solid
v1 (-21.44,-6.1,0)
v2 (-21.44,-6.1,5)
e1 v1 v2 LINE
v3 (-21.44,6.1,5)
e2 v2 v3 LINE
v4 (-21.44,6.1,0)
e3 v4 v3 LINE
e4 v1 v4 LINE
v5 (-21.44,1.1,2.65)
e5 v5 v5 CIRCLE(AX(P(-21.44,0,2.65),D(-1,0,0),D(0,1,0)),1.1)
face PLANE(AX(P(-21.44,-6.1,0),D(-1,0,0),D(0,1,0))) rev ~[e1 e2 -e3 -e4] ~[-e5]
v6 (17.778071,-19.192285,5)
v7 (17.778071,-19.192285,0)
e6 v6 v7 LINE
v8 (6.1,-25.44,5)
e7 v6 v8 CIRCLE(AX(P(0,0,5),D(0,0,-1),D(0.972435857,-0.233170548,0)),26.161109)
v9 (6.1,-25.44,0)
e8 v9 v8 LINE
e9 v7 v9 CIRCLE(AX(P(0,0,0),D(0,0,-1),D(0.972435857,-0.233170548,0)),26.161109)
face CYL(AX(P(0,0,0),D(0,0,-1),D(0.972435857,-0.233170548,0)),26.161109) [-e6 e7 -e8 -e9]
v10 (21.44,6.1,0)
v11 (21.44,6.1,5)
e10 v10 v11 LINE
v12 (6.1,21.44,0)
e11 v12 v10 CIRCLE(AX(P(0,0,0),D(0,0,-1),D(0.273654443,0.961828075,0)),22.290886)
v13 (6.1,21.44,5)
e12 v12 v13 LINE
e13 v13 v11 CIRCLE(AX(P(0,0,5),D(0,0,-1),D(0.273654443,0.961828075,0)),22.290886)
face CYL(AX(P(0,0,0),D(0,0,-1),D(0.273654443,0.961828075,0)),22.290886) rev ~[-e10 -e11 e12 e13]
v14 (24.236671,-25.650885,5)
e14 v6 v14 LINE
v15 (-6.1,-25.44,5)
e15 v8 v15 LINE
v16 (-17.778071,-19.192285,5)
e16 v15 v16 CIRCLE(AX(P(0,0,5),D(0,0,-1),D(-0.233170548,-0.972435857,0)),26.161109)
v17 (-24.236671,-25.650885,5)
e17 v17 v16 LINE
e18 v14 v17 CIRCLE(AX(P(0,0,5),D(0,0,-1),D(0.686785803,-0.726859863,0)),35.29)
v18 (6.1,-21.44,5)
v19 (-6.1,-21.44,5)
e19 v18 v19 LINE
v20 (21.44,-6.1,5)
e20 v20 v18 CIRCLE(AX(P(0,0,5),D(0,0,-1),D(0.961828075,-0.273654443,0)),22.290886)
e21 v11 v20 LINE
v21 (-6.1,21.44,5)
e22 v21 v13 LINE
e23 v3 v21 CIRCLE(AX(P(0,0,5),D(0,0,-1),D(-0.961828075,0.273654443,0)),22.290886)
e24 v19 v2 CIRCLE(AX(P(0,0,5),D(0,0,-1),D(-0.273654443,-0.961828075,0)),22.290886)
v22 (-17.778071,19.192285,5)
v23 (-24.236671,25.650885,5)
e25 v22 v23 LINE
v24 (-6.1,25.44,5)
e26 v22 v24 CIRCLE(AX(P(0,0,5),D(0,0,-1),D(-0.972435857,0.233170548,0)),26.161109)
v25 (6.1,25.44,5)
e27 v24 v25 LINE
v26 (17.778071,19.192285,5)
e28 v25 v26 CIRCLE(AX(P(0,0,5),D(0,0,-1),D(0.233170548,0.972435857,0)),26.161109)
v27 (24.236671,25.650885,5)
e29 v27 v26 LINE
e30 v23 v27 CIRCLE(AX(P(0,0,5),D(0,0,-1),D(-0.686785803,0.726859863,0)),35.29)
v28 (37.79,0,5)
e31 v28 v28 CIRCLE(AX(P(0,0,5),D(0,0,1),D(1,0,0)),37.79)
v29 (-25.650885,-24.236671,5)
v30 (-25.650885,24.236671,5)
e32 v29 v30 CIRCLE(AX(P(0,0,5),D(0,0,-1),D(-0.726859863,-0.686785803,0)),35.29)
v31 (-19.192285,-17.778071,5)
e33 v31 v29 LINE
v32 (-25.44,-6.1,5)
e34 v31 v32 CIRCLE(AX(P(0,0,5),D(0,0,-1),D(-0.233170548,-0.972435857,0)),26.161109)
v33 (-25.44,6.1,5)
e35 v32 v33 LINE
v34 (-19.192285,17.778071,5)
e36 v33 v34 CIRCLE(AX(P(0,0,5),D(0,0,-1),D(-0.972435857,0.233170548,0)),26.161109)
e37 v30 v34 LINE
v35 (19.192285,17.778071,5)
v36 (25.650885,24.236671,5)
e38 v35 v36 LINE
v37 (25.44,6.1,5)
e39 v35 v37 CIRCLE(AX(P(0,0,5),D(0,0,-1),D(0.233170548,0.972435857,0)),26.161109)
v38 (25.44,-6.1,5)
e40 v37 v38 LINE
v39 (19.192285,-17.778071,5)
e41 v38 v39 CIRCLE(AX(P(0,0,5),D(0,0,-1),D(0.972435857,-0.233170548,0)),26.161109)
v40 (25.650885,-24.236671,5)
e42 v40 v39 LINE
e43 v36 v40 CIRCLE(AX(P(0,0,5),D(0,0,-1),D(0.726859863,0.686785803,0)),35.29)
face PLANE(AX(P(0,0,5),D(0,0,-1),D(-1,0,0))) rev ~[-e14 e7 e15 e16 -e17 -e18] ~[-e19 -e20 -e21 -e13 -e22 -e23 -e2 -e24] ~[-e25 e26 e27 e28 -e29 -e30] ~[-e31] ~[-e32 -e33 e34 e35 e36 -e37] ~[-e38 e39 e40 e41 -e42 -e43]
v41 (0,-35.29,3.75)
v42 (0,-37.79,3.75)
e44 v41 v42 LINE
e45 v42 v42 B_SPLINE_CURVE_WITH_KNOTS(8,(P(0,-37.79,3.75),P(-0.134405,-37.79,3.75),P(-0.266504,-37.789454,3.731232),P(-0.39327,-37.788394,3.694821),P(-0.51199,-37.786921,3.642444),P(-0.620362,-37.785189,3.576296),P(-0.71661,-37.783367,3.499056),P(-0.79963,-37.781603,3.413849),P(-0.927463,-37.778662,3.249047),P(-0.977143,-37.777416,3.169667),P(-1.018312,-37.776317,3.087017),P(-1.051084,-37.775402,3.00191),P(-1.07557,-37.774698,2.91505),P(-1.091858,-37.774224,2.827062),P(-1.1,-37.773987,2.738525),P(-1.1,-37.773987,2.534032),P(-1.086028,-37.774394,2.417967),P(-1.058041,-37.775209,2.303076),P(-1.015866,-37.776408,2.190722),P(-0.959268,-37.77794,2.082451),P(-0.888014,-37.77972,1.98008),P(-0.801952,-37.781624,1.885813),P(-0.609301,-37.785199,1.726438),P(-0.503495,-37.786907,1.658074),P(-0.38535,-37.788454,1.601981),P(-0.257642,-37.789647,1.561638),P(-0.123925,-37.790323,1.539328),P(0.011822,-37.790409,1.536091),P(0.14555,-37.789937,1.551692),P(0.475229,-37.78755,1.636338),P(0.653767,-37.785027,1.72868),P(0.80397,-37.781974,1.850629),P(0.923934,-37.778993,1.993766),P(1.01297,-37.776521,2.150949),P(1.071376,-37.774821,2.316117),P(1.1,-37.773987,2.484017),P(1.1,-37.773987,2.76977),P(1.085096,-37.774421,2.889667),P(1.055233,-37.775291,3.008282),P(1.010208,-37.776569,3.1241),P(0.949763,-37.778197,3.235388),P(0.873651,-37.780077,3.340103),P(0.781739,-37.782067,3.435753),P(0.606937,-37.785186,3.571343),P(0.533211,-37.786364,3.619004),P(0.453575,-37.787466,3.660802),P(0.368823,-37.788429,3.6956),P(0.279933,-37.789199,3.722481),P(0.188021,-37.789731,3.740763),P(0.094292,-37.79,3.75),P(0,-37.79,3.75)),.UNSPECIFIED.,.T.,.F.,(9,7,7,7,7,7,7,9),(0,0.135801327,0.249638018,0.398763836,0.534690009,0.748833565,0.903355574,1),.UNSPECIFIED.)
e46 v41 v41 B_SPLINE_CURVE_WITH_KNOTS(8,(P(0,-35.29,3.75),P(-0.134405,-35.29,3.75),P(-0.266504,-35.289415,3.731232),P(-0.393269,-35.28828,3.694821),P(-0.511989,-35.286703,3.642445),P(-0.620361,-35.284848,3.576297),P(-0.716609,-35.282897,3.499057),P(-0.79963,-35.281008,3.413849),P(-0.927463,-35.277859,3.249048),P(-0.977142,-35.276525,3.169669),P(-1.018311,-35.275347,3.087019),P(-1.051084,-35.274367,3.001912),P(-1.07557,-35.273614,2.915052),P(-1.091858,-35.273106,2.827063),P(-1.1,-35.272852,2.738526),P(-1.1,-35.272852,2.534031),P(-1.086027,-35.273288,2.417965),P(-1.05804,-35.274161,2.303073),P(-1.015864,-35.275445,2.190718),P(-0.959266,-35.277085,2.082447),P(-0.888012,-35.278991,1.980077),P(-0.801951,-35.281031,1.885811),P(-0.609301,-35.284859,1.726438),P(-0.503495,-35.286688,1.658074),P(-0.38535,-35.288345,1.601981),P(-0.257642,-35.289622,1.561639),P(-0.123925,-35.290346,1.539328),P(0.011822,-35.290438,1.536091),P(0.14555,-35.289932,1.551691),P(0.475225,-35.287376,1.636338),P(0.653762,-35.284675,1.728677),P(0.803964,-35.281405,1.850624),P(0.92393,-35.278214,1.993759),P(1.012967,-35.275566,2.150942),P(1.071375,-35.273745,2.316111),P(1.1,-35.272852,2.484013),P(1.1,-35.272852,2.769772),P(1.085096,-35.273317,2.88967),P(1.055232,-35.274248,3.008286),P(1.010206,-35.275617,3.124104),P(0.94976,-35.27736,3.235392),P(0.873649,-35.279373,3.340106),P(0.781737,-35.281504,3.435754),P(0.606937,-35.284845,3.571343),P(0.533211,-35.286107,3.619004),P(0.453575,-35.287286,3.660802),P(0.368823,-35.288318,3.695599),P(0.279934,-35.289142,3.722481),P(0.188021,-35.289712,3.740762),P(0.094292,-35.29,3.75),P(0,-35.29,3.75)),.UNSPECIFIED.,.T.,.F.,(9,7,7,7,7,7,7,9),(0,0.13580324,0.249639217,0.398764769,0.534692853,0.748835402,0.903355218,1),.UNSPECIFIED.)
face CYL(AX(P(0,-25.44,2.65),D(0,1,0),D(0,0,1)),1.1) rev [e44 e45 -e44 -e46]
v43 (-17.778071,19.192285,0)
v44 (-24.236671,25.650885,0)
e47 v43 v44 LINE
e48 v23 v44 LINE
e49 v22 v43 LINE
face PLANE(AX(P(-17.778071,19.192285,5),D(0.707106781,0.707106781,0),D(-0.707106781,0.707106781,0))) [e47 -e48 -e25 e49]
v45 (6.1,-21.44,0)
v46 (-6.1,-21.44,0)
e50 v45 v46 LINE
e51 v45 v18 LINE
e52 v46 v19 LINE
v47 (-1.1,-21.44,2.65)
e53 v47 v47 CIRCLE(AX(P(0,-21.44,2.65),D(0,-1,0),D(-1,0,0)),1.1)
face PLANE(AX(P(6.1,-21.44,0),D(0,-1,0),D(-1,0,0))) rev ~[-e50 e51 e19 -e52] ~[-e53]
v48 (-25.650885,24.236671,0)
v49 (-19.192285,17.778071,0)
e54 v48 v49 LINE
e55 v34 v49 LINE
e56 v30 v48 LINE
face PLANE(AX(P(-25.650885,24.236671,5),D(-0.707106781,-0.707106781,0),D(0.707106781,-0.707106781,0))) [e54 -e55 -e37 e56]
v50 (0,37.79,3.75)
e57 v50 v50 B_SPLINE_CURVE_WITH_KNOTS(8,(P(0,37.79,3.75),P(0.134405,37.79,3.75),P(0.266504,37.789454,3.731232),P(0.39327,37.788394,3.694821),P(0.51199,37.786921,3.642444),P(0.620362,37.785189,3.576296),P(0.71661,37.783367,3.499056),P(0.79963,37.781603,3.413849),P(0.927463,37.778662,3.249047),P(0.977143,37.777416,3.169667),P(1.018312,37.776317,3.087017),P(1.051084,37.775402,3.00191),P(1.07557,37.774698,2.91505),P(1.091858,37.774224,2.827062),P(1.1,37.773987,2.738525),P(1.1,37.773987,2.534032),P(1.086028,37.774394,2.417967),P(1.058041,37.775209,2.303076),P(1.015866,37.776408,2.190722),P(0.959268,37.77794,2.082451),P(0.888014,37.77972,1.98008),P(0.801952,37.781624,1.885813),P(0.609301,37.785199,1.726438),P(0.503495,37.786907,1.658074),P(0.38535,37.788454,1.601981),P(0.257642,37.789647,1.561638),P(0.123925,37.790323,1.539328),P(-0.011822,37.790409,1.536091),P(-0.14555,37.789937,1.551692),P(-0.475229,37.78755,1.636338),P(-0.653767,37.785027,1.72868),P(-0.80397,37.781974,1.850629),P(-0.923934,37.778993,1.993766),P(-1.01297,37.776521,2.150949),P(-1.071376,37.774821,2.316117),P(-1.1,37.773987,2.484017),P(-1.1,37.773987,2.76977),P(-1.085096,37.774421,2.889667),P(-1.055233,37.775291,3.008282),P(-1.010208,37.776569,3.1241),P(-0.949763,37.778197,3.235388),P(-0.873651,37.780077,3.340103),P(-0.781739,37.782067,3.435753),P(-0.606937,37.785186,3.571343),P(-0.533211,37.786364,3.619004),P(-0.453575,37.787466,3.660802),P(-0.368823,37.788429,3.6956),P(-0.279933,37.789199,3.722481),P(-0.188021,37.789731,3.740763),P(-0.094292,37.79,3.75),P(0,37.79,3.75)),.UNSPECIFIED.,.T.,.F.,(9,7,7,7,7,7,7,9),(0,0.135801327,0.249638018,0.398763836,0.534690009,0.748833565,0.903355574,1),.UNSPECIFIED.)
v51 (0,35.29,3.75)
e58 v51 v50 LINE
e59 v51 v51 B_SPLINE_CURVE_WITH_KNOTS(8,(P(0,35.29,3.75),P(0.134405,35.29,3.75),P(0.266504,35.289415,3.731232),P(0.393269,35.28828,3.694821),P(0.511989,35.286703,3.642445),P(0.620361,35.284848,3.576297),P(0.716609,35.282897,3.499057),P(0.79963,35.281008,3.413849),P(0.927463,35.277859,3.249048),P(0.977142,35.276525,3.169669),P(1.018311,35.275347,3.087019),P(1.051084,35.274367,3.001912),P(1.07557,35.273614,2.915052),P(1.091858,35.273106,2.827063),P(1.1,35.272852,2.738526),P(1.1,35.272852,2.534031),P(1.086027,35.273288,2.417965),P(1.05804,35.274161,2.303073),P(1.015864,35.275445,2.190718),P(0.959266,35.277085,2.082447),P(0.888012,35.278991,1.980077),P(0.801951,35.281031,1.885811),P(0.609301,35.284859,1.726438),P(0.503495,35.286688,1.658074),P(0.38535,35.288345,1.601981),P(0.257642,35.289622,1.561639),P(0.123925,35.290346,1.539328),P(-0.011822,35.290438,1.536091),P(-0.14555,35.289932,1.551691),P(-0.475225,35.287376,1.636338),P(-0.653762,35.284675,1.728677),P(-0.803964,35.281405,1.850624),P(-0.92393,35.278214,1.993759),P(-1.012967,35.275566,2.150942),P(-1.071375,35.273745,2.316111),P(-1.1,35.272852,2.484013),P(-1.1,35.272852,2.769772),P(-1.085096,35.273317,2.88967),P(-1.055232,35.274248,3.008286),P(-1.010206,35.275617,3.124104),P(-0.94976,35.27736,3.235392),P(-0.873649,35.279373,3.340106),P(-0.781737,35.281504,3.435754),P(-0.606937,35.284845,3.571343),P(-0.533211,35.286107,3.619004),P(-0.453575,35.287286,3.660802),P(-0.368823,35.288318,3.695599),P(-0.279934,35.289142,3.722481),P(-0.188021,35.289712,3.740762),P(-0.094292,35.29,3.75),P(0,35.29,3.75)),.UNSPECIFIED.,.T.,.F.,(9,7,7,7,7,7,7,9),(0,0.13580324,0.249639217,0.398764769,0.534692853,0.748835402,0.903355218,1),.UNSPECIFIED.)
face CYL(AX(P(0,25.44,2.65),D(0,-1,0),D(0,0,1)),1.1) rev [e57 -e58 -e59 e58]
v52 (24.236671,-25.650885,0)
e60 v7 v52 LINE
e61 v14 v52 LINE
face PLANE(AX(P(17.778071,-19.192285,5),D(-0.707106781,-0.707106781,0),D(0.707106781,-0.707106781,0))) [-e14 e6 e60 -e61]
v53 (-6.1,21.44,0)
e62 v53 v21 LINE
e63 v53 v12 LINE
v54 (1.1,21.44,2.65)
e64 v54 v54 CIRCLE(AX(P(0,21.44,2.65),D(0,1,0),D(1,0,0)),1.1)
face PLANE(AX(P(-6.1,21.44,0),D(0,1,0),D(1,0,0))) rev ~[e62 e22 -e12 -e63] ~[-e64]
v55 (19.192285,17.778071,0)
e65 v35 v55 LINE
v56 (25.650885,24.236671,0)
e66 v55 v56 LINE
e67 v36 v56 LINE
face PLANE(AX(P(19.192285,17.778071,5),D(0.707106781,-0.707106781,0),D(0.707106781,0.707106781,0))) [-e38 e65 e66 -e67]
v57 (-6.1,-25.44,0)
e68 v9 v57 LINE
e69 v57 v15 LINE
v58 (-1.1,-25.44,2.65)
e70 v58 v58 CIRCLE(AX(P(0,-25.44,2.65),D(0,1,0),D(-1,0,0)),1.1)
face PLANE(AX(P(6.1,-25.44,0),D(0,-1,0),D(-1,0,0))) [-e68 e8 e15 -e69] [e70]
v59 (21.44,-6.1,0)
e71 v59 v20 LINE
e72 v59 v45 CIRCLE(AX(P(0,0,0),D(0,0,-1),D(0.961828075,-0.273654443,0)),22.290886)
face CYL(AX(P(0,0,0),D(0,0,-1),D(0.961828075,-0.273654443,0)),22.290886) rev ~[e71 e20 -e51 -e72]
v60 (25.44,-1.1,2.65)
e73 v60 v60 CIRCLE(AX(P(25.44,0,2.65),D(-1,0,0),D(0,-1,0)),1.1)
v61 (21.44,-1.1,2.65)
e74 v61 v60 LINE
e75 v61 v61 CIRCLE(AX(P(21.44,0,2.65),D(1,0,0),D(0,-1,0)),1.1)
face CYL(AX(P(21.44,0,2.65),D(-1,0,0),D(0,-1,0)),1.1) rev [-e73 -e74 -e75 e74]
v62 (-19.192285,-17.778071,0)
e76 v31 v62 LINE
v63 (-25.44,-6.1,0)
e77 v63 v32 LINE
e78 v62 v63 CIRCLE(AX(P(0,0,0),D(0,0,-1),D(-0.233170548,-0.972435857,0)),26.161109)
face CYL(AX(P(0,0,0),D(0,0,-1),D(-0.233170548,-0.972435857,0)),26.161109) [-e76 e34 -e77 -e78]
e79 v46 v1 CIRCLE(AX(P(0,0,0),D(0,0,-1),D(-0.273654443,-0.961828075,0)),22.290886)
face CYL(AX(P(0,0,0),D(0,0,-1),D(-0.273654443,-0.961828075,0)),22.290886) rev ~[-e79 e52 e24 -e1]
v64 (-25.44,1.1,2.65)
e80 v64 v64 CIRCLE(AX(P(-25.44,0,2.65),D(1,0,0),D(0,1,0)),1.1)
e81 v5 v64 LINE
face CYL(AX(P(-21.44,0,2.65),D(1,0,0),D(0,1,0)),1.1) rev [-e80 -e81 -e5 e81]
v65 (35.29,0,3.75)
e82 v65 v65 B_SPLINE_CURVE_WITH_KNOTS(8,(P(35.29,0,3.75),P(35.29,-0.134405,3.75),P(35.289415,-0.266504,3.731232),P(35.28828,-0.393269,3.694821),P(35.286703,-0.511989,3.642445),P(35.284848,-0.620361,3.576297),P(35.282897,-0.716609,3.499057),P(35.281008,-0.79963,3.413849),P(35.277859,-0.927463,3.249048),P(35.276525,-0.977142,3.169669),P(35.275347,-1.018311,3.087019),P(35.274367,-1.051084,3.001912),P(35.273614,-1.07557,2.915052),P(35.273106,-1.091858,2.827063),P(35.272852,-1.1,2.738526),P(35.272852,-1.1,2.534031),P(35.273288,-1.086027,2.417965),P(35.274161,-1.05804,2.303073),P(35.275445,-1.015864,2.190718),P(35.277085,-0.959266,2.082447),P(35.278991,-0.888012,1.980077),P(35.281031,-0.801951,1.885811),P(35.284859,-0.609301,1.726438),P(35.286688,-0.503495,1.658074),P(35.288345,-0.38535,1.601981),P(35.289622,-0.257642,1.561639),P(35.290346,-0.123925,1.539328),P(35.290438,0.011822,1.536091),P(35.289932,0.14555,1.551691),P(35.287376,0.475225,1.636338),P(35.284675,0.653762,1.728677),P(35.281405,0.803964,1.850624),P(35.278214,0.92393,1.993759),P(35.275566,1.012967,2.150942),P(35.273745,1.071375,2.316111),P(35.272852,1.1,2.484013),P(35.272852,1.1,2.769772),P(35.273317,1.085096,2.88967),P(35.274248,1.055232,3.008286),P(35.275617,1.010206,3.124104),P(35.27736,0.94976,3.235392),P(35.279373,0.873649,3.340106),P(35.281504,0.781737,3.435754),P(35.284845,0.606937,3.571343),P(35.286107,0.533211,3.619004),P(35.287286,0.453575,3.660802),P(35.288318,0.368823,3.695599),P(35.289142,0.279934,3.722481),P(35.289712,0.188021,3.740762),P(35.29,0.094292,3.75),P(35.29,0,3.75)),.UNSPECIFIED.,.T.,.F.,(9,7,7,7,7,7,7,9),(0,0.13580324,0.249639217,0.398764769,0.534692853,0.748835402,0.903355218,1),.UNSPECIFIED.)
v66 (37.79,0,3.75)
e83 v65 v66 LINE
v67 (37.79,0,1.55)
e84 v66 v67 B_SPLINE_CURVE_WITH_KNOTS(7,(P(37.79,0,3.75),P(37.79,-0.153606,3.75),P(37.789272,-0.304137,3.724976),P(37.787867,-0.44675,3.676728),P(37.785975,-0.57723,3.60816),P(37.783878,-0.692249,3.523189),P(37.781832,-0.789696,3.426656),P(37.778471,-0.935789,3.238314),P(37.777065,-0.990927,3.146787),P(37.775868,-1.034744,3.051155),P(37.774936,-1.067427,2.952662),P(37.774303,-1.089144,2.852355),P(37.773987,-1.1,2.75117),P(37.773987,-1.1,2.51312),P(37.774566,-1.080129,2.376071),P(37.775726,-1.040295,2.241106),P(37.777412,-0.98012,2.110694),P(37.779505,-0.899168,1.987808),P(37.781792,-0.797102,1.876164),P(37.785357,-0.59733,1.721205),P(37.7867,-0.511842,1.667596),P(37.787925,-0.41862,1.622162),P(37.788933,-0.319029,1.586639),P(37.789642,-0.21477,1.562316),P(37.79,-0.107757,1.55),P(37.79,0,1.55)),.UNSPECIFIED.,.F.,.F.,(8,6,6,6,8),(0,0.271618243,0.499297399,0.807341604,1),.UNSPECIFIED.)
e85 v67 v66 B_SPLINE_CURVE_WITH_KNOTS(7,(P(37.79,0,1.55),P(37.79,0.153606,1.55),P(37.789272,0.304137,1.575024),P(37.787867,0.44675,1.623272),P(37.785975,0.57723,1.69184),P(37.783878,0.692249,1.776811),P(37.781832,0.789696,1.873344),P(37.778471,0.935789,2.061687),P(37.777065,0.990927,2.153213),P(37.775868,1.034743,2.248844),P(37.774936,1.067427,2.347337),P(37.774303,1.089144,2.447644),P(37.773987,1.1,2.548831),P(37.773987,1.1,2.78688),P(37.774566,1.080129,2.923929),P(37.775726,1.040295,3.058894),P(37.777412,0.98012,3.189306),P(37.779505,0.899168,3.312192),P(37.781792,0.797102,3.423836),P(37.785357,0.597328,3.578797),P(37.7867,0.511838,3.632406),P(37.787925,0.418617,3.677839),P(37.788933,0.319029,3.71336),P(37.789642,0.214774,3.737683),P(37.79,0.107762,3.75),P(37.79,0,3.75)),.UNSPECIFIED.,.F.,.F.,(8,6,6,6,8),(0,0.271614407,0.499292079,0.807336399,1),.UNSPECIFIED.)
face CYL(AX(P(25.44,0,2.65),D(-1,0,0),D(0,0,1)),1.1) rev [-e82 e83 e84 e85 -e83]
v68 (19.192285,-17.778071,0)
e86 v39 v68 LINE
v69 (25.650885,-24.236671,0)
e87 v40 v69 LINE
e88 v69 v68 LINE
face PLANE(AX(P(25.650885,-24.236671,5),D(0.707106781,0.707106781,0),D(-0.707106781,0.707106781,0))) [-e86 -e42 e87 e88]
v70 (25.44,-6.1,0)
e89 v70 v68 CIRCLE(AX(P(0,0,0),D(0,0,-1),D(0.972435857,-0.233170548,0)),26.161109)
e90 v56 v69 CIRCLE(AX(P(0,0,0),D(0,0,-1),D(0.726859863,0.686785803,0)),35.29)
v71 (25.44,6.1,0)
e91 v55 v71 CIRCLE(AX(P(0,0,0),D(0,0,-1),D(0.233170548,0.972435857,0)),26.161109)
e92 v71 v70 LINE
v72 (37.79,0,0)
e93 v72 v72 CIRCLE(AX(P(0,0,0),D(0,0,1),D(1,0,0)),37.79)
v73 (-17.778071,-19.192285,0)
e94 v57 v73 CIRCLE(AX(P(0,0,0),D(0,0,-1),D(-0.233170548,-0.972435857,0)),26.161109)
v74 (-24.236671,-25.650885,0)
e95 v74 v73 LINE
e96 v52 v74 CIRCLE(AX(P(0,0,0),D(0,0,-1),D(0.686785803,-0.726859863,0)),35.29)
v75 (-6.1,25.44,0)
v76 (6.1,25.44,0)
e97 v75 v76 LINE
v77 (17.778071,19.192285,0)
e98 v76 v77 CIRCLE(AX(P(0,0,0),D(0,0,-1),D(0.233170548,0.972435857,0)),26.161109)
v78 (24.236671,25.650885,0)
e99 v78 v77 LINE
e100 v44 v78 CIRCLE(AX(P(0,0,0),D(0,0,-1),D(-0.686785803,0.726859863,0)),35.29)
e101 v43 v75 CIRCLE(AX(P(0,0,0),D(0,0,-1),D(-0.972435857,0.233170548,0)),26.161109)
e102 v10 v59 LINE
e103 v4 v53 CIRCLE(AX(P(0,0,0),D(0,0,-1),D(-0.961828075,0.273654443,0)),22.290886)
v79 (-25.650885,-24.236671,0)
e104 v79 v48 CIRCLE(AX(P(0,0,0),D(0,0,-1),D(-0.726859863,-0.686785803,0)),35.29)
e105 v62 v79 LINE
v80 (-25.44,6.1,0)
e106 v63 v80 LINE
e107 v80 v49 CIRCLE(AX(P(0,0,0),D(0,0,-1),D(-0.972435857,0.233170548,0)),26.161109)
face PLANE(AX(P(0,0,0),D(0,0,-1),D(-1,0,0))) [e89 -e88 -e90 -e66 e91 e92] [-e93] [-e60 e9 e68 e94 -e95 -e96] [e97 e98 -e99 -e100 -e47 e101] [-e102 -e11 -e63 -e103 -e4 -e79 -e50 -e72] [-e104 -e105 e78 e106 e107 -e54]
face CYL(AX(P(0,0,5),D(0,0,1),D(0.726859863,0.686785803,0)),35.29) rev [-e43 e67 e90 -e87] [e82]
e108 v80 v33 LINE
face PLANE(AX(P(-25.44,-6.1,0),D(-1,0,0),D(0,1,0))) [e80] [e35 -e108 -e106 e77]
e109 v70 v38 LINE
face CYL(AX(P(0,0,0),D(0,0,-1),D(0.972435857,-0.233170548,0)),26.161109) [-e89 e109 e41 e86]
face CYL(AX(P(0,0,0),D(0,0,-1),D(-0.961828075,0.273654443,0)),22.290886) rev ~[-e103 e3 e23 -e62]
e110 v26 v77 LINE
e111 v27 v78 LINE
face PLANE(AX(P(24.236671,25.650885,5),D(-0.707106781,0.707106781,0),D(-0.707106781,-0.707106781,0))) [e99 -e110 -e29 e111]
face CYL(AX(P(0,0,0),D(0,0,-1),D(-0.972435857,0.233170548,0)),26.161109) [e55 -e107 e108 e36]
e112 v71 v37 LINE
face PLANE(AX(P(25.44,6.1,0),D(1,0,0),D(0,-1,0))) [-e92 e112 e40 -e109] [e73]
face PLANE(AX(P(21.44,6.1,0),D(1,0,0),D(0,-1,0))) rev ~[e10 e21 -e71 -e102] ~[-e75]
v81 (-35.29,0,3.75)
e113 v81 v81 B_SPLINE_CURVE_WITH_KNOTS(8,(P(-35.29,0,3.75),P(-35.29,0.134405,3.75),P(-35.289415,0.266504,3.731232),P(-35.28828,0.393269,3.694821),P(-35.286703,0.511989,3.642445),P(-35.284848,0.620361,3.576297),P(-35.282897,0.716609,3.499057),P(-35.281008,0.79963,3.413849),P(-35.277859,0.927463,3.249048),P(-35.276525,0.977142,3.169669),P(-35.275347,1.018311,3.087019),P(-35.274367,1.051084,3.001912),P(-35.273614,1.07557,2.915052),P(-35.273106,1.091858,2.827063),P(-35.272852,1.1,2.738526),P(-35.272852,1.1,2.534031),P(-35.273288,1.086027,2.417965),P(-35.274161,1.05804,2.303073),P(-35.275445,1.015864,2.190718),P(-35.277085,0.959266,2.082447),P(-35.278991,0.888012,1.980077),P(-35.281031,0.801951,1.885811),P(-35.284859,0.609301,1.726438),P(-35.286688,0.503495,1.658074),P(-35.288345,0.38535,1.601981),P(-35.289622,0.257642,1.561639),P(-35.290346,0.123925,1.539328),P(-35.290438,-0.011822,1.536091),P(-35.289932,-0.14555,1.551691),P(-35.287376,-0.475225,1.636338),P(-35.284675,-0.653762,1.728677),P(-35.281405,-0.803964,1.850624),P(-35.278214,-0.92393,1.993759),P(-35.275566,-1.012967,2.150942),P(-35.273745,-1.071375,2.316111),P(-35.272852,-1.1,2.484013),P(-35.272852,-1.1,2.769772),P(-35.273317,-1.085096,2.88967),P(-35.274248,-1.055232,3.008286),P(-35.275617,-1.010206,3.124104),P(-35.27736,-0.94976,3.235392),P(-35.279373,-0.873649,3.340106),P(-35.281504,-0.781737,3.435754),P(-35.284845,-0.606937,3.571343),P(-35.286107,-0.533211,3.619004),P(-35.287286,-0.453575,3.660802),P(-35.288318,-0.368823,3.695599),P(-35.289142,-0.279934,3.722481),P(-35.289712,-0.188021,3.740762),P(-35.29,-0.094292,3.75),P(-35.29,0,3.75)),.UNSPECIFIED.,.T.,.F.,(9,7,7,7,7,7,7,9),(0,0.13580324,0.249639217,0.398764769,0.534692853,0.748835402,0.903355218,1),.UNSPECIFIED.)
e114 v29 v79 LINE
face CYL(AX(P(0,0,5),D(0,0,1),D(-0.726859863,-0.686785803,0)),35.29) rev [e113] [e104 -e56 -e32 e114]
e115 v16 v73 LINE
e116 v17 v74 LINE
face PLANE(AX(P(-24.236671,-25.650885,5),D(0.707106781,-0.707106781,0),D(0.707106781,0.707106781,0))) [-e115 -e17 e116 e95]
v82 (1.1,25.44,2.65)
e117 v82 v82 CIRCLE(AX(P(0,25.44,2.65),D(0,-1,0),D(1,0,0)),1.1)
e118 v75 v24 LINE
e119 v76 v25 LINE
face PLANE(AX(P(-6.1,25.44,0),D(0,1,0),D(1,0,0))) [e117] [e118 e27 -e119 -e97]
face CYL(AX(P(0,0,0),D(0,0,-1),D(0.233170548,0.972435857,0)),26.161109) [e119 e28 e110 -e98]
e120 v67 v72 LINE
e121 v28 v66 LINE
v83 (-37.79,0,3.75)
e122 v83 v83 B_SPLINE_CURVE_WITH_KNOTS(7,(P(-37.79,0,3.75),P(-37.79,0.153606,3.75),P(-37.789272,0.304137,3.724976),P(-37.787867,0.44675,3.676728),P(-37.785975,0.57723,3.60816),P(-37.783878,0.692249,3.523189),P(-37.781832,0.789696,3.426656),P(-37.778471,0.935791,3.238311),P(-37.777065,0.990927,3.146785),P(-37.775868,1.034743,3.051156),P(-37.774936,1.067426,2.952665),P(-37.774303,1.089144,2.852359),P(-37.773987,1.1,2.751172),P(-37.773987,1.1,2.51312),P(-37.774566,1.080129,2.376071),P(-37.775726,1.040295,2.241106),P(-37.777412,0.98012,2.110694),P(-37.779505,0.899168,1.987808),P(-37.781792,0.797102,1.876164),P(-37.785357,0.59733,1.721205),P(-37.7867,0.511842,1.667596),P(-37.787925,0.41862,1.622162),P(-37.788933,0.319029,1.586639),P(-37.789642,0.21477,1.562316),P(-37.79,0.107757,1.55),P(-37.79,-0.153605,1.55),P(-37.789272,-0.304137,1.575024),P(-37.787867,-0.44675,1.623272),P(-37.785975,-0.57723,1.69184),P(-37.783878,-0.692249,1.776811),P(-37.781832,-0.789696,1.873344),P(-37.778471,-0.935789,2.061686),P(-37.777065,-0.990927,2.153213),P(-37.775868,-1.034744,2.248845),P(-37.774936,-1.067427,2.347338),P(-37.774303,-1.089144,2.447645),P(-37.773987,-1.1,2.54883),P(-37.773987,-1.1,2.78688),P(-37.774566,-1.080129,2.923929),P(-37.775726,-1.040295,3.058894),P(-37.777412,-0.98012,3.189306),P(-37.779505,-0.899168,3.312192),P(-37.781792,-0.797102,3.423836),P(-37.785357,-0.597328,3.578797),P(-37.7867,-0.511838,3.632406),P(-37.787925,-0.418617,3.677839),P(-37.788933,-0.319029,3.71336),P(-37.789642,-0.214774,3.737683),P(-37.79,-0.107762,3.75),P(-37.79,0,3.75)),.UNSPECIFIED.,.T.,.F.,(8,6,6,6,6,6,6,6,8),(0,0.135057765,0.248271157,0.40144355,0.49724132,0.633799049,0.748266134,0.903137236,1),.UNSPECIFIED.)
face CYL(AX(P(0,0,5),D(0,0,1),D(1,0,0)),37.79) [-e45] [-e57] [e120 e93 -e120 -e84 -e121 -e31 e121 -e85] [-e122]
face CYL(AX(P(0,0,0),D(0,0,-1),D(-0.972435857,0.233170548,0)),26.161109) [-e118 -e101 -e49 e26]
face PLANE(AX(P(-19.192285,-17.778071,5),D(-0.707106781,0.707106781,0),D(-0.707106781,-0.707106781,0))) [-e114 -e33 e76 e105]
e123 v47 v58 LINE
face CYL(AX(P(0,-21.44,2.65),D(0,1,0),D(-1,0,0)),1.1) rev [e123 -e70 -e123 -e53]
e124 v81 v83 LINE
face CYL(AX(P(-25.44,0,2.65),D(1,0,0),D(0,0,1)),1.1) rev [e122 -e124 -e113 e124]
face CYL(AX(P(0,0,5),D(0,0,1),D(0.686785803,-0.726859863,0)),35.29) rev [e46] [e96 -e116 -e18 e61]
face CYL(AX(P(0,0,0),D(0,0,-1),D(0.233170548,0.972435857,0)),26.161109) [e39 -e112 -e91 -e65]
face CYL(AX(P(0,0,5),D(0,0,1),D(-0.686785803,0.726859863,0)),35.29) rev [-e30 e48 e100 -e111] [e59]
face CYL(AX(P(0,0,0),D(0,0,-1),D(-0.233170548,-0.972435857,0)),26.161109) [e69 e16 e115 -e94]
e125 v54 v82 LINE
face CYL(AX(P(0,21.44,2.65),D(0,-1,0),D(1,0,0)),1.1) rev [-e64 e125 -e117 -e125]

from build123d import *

# Parameters (mm, degrees)
BOSS_EXTRUDE1_DEPTH = 5
CUT_EXTRUDE2_START  = -4
SKETCH3_R           = 1.1
CUT_EXTRUDE2_DEPTH  = 5
CIRPATTERN7_COUNT   = 4
SKETCH4_R           = 37.79
BOSS_EXTRUDE2_DEPTH = 5
SKETCH5_R           = 1.1
CUT_EXTRUDE3_DEPTH  = 13.35
CIRPATTERN8_COUNT   = 4


with BuildPart() as part:
    # Sketch1 → Boss-Extrude1 (new body)
    with BuildSketch(Plane.XY):
        with BuildLine():
            Line((-6.1, 25.44), (6.1, 25.44))
            ThreePointArc((6.1, 25.44), (18.498697251, 18.498697251), (25.44, 6.1))
            Line((25.44, 6.1), (25.44, -6.1))
            ThreePointArc((25.44, -6.1), (18.498697251, -18.498697251), (6.1, -25.44))
            Line((6.1, -25.44), (-6.1, -25.44))
            ThreePointArc((-6.1, -25.44), (-18.498697251, -18.498697251), (-25.44, -6.1))
            Line((-25.44, -6.1), (-25.44, 6.1))
            ThreePointArc((-25.44, 6.1), (-18.498697251, 18.498697251), (-6.1, 25.44))
        make_face()
        with BuildLine():
            Line((-6.1, 21.44), (6.1, 21.44))
            ThreePointArc((6.1, 21.44), (15.76203667, 15.76203667), (21.44, 6.1))
            Line((21.44, 6.1), (21.44, -6.1))
            ThreePointArc((21.44, -6.1), (15.76203667, -15.76203667), (6.1, -21.44))
            Line((6.1, -21.44), (-6.1, -21.44))
            ThreePointArc((-6.1, -21.44), (-15.76203667, -15.76203667), (-21.44, -6.1))
            Line((-21.44, -6.1), (-21.44, 6.1))
            ThreePointArc((-21.44, 6.1), (-15.76203667, 15.76203667), (-6.1, 21.44))
        make_face(mode=Mode.SUBTRACT)
    extrude(amount=BOSS_EXTRUDE1_DEPTH)

    # Sketch3 → Cut-Extrude2 (cut)
    with BuildSketch(Plane(origin=(0, 25.44, 0), x_dir=(1, 0, 0), z_dir=(0, 1, 0)).offset(CUT_EXTRUDE2_START)):
        with Locations((0, -2.65)):
            Circle(SKETCH3_R)
    cut_extrude2 = extrude(amount=CUT_EXTRUDE2_DEPTH, mode=Mode.SUBTRACT)

    # CirPattern7: Cut-Extrude2 ×4 about axis
    cirpattern7_axis = Axis((0, 0, 5), (0, 0, -1))
    for i in range(1, CIRPATTERN7_COUNT):
        add(cut_extrude2.rotate(cirpattern7_axis, i * 360 / CIRPATTERN7_COUNT), mode=Mode.SUBTRACT)

    # Sketch4 → Boss-Extrude2 (add)
    with BuildSketch(Plane.XY.offset(5)):
        Circle(SKETCH4_R)
        with BuildLine():
            Line((-25.650884562, 24.236671), (-19.192284627, 17.778071065))
            ThreePointArc((-19.192284627, 17.778071065), (-18.498697251, 18.498697251), (-17.778071065, 19.192284627))
            Line((-17.778071065, 19.192284627), (-24.236671, 25.650884562))
            ThreePointArc((-24.236671, 25.650884562), (0, 35.29), (24.236671, 25.650884562))
            Line((24.236671, 25.650884562), (17.778071065, 19.192284627))
            ThreePointArc((17.778071065, 19.192284627), (18.498697251, 18.498697251), (19.192284627, 17.778071065))
            Line((19.192284627, 17.778071065), (25.650884562, 24.236671))
            ThreePointArc((25.650884562, 24.236671), (35.29, 0), (25.650884562, -24.236671))
            Line((25.650884562, -24.236671), (19.192284627, -17.778071065))
            ThreePointArc((19.192284627, -17.778071065), (18.498697251, -18.498697251), (17.778071065, -19.192284627))
            Line((17.778071065, -19.192284627), (24.236671, -25.650884562))
            ThreePointArc((24.236671, -25.650884562), (0, -35.29), (-24.236671, -25.650884562))
            Line((-24.236671, -25.650884562), (-17.778071065, -19.192284627))
            ThreePointArc((-17.778071065, -19.192284627), (-18.498697251, -18.498697251), (-19.192284627, -17.778071065))
            Line((-19.192284627, -17.778071065), (-25.650884562, -24.236671))
            ThreePointArc((-25.650884562, -24.236671), (-35.29, 0), (-25.650884562, 24.236671))
        make_face(mode=Mode.SUBTRACT)
    extrude(amount=-BOSS_EXTRUDE2_DEPTH)

    # Sketch5 → Cut-Extrude3 (cut, through all)
    with BuildSketch(Plane.ZY.offset(25.44)):
        with Locations((2.65, 0)):
            Circle(SKETCH5_R)
    cut_extrude3 = extrude(amount=CUT_EXTRUDE3_DEPTH, mode=Mode.SUBTRACT)

    # CirPattern8: Cut-Extrude3 ×4 about axis
    cirpattern8_axis = Axis((0, 0, -106.886261044), (0, 0, 1))
    for i in range(1, CIRPATTERN8_COUNT):
        add(cut_extrude3.rotate(cirpattern8_axis, i * 360 / CIRPATTERN8_COUNT), mode=Mode.SUBTRACT)


solid = part.part
